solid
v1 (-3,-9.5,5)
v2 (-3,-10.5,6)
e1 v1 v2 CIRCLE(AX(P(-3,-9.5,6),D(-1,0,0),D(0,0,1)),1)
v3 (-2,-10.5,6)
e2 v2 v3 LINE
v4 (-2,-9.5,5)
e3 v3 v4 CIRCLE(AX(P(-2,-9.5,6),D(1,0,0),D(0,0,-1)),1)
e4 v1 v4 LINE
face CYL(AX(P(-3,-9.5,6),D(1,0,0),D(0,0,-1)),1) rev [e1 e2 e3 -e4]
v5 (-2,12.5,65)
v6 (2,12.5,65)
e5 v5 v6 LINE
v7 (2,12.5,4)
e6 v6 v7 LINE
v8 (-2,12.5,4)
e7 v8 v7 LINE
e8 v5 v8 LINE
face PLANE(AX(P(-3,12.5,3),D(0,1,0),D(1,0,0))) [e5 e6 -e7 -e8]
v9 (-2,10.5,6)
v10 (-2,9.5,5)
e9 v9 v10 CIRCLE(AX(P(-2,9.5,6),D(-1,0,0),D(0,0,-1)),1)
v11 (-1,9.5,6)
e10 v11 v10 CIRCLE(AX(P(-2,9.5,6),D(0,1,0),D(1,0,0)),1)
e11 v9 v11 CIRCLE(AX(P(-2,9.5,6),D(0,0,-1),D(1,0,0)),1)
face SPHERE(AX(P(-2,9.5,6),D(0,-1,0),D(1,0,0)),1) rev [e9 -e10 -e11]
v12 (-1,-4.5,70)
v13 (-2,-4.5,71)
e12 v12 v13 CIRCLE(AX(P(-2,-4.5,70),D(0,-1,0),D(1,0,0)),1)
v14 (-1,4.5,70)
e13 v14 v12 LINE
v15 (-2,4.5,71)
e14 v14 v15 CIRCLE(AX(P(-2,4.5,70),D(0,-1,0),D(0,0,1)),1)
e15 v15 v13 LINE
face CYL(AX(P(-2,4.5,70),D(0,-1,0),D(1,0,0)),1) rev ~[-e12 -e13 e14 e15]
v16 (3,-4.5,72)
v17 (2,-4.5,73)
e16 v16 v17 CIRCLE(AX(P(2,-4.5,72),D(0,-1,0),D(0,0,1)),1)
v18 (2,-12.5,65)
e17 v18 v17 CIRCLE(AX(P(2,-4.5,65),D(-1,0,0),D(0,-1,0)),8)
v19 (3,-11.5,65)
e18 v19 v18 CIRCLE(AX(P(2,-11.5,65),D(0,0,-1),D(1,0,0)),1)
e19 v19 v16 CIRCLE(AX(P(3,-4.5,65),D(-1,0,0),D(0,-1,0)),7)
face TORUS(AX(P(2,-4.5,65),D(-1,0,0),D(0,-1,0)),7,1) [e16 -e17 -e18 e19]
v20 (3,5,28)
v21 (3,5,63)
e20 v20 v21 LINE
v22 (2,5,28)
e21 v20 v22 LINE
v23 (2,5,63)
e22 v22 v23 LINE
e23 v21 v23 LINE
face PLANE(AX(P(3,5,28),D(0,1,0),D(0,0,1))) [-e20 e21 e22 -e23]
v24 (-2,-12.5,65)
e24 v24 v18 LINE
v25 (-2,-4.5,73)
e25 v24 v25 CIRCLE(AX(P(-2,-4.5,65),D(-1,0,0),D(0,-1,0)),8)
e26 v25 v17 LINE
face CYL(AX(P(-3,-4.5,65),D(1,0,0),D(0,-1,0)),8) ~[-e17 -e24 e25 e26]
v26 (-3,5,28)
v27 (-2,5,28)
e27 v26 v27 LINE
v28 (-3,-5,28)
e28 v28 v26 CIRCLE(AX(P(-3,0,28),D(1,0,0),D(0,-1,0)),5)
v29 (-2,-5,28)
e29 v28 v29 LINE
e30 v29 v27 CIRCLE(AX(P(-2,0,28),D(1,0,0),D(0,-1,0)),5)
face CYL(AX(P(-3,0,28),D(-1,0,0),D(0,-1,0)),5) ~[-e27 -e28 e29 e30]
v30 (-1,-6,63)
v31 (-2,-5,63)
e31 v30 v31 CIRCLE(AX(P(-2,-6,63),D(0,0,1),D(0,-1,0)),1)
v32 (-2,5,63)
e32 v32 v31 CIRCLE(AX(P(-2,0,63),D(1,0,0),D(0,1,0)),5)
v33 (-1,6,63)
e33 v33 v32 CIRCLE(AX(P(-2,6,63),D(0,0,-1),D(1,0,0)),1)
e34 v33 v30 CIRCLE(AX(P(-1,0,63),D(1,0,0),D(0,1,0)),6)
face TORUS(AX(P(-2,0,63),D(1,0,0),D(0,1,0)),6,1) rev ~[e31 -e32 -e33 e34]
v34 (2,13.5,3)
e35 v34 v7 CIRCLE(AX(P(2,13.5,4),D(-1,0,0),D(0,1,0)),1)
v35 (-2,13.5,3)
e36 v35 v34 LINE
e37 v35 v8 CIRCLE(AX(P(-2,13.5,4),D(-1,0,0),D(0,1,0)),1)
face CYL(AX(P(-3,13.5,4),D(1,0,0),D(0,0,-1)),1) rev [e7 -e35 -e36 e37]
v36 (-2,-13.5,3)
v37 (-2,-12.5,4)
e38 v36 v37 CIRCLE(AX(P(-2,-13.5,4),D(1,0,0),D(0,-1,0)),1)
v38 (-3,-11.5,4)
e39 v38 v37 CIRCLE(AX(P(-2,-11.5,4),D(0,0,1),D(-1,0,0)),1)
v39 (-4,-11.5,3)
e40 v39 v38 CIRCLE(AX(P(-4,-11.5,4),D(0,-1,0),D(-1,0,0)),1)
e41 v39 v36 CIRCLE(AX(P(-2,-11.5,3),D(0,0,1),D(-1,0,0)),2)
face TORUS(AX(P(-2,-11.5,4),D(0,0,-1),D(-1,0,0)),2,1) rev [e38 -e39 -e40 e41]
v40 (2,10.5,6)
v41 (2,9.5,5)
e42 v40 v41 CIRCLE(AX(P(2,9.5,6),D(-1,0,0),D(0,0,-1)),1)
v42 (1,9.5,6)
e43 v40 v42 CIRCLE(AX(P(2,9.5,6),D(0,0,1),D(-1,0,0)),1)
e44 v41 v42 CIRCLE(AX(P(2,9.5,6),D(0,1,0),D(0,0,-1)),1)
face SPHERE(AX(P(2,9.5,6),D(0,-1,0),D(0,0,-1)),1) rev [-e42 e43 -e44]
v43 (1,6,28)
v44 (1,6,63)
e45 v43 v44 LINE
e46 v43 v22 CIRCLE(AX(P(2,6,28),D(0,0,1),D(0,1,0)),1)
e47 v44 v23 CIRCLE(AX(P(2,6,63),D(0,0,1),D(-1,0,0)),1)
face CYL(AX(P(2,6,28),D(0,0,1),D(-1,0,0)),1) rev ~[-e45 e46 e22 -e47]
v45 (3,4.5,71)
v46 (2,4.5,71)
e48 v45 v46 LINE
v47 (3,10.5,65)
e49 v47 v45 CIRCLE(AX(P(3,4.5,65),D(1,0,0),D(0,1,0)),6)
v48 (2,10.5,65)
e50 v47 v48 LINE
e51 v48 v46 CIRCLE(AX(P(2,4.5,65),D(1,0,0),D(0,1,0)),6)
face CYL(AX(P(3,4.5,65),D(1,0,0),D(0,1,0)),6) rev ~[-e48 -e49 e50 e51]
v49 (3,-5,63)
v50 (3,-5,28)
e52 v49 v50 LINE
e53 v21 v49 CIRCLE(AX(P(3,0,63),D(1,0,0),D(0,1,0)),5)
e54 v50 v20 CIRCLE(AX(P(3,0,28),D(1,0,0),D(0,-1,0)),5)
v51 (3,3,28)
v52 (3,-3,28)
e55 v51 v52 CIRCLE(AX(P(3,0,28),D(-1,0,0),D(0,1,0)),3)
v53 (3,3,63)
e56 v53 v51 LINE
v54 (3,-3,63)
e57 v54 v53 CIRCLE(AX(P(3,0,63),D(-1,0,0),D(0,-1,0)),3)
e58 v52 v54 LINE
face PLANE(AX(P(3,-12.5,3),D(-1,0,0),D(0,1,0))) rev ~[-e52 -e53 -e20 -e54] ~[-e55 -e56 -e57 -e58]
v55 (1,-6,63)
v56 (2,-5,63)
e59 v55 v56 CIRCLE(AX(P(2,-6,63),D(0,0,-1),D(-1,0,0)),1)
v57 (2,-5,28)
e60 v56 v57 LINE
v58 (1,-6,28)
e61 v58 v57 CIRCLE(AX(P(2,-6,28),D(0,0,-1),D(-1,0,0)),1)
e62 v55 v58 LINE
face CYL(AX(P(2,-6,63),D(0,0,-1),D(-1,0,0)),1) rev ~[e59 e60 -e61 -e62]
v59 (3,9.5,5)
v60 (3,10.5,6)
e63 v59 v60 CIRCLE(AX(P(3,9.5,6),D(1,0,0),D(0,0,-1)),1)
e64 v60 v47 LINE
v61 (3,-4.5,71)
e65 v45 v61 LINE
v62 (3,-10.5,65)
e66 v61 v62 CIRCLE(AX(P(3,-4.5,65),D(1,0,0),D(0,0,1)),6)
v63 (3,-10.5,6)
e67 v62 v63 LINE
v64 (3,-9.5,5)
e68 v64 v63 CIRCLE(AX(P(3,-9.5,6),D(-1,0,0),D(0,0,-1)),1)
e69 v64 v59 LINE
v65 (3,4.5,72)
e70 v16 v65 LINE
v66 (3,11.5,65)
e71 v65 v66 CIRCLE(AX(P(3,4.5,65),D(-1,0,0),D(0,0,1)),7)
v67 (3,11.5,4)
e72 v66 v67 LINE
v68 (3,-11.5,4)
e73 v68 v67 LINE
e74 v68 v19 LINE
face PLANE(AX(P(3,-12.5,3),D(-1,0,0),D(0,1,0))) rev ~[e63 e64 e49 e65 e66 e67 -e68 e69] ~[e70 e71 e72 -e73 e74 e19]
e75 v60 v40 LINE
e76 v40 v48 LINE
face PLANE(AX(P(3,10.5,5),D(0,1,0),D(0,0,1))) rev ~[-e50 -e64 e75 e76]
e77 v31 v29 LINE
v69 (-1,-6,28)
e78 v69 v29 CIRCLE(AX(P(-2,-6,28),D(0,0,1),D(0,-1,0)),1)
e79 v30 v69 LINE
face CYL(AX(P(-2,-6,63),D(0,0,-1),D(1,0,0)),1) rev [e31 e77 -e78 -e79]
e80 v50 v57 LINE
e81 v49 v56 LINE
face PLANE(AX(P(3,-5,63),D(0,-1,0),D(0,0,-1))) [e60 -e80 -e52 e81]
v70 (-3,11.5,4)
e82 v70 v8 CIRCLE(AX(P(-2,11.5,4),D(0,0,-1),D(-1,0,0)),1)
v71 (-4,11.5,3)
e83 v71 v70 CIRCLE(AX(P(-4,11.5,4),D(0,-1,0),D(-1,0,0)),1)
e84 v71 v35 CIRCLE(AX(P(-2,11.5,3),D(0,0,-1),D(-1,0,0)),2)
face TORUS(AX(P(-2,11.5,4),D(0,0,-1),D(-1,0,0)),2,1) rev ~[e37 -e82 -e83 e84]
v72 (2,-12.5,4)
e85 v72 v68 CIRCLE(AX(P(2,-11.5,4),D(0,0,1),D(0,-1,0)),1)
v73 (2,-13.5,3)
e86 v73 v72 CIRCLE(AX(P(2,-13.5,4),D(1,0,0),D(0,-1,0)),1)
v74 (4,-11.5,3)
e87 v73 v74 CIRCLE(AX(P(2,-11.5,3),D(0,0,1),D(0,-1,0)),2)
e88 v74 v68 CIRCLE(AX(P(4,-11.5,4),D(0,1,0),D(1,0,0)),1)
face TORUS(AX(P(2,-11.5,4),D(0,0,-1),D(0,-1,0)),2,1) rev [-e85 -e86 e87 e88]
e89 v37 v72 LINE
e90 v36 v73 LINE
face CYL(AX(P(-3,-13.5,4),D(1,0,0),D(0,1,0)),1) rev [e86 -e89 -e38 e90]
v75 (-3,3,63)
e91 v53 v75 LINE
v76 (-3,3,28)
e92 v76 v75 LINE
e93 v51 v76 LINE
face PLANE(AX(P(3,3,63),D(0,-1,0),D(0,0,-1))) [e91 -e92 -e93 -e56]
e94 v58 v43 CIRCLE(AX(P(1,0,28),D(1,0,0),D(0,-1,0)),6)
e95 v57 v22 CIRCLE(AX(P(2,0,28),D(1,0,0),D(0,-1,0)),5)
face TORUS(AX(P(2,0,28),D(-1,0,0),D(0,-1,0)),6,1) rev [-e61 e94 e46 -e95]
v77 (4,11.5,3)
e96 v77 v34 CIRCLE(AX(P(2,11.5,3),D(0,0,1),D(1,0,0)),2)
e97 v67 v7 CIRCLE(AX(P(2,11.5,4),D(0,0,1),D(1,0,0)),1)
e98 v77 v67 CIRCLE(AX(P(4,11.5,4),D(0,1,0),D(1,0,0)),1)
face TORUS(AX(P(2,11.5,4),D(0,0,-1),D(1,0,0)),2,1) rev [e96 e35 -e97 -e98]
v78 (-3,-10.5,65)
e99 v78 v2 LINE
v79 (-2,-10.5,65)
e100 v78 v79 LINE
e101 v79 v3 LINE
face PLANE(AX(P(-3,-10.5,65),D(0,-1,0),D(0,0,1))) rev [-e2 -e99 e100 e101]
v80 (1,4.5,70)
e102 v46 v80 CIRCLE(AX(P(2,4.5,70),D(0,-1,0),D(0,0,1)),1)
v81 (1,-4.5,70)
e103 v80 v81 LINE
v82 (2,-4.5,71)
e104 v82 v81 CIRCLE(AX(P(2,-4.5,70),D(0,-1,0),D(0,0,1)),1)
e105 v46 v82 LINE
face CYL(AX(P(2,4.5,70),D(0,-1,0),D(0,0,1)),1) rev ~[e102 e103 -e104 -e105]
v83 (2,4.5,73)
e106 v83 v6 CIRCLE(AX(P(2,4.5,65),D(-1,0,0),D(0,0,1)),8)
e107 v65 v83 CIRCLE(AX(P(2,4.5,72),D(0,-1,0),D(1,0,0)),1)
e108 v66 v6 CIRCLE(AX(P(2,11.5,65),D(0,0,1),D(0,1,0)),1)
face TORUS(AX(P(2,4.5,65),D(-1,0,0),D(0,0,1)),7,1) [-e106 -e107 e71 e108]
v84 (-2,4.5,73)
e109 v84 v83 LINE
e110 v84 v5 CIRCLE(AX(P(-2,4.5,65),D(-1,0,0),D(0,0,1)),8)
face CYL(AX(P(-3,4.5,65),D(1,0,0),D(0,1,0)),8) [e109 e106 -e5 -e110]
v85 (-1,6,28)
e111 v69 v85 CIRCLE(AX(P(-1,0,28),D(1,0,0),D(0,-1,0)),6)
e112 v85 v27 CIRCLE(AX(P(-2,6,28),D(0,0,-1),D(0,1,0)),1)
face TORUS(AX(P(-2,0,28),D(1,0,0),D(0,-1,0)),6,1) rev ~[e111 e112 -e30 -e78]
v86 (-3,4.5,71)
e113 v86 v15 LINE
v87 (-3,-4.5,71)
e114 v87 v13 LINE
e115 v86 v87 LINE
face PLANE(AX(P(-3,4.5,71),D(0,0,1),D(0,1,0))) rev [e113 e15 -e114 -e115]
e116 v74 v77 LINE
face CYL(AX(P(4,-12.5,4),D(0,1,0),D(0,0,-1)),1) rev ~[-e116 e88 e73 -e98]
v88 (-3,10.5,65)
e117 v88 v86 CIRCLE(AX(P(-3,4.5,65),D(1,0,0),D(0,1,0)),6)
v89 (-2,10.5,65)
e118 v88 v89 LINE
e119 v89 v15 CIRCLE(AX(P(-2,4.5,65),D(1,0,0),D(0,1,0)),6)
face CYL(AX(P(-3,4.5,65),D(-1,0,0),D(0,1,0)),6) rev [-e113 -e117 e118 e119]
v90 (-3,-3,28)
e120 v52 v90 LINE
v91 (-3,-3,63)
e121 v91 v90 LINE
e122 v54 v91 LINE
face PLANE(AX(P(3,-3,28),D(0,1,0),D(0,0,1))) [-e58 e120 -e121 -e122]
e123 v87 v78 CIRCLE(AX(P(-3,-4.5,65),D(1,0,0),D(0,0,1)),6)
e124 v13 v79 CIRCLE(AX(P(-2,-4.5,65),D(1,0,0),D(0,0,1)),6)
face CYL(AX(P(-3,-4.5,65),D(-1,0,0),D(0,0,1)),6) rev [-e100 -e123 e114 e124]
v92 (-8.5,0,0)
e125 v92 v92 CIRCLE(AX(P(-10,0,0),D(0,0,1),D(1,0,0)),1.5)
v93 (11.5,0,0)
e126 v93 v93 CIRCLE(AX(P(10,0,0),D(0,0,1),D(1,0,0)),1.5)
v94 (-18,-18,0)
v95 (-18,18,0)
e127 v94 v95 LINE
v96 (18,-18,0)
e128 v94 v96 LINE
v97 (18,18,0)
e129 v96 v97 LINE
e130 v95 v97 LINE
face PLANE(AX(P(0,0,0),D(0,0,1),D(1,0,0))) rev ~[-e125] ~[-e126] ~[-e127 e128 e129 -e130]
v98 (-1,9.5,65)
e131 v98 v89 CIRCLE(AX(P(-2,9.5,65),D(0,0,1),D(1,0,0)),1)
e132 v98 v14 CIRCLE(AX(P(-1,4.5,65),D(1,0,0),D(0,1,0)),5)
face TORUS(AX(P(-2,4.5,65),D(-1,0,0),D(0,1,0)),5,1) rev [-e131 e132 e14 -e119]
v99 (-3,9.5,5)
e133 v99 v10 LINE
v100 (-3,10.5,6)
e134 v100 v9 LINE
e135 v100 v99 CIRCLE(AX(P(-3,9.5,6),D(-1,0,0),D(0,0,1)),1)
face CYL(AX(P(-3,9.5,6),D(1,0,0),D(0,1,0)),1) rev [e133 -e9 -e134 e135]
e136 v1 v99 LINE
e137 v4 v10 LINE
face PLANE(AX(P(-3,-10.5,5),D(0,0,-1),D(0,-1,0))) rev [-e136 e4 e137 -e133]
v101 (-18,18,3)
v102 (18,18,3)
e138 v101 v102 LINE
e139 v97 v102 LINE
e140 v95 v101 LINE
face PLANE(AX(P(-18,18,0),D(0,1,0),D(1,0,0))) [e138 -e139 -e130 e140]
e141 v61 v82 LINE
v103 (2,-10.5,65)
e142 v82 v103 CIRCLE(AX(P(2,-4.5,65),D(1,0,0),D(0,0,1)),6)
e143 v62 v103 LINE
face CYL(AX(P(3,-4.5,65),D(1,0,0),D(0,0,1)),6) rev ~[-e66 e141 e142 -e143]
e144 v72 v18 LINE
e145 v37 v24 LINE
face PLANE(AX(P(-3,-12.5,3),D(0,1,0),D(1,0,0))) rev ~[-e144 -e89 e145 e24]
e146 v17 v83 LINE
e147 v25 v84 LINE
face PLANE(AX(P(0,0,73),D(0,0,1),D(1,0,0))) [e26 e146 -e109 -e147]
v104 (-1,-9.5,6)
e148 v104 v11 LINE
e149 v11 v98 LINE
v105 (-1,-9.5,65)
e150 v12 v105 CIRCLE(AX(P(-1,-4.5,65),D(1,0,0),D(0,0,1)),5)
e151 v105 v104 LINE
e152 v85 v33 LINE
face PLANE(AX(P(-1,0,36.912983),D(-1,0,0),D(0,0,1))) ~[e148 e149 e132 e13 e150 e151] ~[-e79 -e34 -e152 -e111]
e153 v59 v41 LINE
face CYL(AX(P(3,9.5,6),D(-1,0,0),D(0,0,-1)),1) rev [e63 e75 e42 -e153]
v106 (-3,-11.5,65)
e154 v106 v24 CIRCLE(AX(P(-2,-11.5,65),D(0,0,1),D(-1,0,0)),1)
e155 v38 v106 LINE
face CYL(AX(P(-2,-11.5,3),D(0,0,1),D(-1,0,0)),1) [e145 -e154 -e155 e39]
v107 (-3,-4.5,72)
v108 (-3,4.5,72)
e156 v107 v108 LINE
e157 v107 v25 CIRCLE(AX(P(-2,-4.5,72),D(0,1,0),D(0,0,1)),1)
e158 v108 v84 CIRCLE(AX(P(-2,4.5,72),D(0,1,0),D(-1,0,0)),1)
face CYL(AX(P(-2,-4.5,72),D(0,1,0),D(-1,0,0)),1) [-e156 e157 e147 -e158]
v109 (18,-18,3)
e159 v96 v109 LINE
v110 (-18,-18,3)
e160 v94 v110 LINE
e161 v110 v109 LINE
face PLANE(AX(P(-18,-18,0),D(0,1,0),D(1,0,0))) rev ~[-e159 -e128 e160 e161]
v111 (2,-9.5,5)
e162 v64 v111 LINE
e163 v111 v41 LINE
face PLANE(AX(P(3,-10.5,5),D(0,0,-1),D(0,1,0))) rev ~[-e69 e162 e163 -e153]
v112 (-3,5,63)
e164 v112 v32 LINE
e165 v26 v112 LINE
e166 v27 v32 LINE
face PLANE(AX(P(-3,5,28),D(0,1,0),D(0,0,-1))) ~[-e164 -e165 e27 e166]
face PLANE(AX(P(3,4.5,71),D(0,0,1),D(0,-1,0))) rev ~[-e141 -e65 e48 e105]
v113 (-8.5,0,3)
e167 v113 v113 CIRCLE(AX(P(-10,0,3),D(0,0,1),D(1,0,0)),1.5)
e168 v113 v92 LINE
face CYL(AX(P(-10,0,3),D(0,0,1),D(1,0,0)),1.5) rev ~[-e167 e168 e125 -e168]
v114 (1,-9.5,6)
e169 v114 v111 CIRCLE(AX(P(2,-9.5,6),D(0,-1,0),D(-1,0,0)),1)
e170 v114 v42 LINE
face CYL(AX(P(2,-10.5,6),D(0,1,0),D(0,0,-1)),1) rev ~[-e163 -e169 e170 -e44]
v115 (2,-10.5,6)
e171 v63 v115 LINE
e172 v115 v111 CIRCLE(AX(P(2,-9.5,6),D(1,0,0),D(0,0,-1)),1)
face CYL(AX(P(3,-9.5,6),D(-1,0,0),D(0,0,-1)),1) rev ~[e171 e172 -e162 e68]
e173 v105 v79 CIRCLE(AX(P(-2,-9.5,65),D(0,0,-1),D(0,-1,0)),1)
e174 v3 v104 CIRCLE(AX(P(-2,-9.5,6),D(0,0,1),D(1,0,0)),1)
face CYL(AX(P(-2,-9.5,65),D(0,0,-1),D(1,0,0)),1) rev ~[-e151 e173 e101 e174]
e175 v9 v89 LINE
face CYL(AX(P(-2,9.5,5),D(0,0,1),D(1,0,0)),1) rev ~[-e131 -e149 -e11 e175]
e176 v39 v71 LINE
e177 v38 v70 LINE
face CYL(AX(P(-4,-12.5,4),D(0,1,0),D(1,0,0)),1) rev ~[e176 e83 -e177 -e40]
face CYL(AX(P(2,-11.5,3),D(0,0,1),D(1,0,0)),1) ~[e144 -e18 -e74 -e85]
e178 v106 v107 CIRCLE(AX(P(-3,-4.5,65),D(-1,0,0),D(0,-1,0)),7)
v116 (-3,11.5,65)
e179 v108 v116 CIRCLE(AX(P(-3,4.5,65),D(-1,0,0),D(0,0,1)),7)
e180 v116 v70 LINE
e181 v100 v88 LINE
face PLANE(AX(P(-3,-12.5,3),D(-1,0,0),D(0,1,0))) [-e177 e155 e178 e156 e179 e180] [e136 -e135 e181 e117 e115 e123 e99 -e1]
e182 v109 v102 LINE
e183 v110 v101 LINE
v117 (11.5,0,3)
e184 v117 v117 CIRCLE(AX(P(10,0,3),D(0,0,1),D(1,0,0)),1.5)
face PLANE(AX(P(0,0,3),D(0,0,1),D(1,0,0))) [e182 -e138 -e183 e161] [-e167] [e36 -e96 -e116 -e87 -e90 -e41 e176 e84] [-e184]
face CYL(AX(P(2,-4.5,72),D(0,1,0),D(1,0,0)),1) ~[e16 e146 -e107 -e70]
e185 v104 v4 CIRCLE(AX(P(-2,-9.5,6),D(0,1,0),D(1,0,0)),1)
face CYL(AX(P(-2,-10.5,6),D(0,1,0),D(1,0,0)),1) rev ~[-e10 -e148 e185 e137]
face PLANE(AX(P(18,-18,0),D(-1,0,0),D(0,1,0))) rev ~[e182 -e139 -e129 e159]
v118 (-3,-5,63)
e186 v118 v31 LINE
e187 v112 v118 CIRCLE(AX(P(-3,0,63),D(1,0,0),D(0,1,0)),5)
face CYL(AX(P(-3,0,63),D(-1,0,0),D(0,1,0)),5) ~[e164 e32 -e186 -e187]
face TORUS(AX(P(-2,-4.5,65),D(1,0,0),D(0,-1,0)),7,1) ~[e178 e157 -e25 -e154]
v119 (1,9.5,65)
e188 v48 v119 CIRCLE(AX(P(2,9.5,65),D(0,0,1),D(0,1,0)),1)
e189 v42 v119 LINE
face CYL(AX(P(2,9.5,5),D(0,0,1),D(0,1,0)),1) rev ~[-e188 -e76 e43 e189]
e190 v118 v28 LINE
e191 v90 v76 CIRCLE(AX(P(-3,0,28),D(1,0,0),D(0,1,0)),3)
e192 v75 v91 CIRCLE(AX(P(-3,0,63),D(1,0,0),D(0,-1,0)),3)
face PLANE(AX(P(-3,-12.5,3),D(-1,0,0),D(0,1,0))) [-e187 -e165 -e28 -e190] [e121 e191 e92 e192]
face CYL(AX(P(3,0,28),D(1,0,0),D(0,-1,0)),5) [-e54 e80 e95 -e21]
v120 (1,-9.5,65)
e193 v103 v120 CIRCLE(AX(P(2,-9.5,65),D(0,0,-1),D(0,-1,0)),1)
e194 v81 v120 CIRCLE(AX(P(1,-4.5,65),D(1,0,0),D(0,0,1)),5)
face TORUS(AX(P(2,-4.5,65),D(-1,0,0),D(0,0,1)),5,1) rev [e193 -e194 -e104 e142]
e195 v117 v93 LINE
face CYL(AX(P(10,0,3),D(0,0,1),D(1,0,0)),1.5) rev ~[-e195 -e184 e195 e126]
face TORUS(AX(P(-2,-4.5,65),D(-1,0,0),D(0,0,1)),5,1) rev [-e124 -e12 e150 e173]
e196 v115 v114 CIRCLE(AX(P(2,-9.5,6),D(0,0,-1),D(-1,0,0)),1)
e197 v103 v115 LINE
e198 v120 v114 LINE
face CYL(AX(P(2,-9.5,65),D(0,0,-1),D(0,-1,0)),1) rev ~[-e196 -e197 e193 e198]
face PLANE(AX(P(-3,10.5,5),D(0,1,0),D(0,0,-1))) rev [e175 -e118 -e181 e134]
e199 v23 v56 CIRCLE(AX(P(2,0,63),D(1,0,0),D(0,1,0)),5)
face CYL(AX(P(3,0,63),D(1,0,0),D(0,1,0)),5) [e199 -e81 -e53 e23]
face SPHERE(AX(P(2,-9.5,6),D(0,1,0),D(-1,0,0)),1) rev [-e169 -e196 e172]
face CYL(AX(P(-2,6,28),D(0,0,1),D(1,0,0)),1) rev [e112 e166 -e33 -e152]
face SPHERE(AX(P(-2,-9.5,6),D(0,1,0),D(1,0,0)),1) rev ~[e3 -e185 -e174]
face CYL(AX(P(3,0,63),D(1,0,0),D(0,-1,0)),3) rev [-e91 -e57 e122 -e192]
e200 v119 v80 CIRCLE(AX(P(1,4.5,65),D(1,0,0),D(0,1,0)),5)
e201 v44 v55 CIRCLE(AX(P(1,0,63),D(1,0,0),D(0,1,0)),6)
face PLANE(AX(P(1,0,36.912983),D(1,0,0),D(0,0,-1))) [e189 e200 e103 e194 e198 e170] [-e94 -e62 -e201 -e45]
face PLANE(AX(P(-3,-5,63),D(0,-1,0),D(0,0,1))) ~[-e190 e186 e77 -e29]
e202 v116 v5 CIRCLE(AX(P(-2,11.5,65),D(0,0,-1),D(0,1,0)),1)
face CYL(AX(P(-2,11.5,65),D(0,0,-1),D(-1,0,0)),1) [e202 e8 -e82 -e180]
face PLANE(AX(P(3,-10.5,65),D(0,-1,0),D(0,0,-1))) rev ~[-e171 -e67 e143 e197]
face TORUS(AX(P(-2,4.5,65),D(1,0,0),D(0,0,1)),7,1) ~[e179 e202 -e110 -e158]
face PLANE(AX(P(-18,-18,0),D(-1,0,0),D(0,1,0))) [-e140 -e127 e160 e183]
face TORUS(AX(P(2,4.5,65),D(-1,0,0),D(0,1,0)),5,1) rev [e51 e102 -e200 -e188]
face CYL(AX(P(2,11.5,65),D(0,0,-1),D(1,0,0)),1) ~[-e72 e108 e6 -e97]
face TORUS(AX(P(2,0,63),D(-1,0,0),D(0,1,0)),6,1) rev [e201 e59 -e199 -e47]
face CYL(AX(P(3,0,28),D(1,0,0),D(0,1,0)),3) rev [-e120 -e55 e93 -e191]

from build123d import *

# Parameters (mm, degrees)
SKETCH1_W           = 36
SKETCH1_H           = 36
BOSS_EXTRUDE1_DEPTH = 3
SKETCH2_R           = 1.5
CUT_EXTRUDE1_DEPTH  = 3
SKETCH3_W           = 6
SKETCH3_H           = 25
BOSS_EXTRUDE2_DEPTH = 70
CUT_EXTRUDE2_DEPTH  = 70
FILLET1_R           = 8
CUT_EXTRUDE3_DEPTH  = 2
FILLET2_R           = 1
FILLET4_R           = 1
FILLET5_R           = 1
FILLET6_R           = 1
FILLET7_R           = 1


with BuildPart() as part:
    # Sketch1 → Boss-Extrude1 (new body)
    with BuildSketch(Plane.XY):
        Rectangle(SKETCH1_W, SKETCH1_H)
    extrude(amount=BOSS_EXTRUDE1_DEPTH)

    # Sketch2 → Cut-Extrude1 (cut)
    with BuildSketch(Plane.XY.offset(3)):
        with Locations((-10, 0)):
            Circle(SKETCH2_R)
        with Locations((10, 0)):
            Circle(SKETCH2_R)
    extrude(amount=-CUT_EXTRUDE1_DEPTH, mode=Mode.SUBTRACT)

    # Sketch3 → Boss-Extrude2 (add)
    with BuildSketch(Plane.XY.offset(3)):
        Rectangle(SKETCH3_W, SKETCH3_H)
    extrude(amount=BOSS_EXTRUDE2_DEPTH)

    # Sketch4 → Cut-Extrude2 (cut)
    with BuildSketch(Plane(origin=(3, 0, 0), x_dir=(0, 0, -1), z_dir=(1, 0, 0))):
        with BuildLine():
            Line((-63, 3), (-28, 3))
            ThreePointArc((-28, 3), (-25, 0), (-28, -3))
            Line((-28, -3), (-63, -3))
            ThreePointArc((-63, -3), (-66, 0), (-63, 3))
        make_face()
    extrude(amount=-CUT_EXTRUDE2_DEPTH, mode=Mode.SUBTRACT)

    # Fillet1
    fillet1_edges = [part.edges().sort_by_distance(p)[0] for p in [
        (0, -12.5, 73),
        (0, 12.5, 73),
    ]]
    fillet(fillet1_edges, radius=FILLET1_R)

    # Sketch5 → Cut-Extrude3 (cut)
    with BuildSketch(Plane(origin=(3, 0, 0), x_dir=(0, 0, -1), z_dir=(1, 0, 0))):
        with BuildLine():
            Line((-5, 10.5), (-65, 10.5))
            ThreePointArc((-65, 10.5), (-69.242640687, 8.742640687), (-71, 4.5))
            Line((-71, 4.5), (-71, -4.5))
            ThreePointArc((-71, -4.5), (-69.242640687, -8.742640687), (-65, -10.5))
            Line((-65, -10.5), (-5, -10.5))
            Line((-5, -10.5), (-5, 10.5))
        make_face()
        with BuildLine():
            Line((-28, 5), (-63, 5))
            ThreePointArc((-63, 5), (-68, 0), (-63, -5))
            Line((-63, -5), (-28, -5))
            ThreePointArc((-28, -5), (-23, 0), (-28, 5))
        make_face(mode=Mode.SUBTRACT)
    cut_extrude3 = extrude(amount=-CUT_EXTRUDE3_DEPTH, mode=Mode.SUBTRACT)

    # Mirror1: Cut-Extrude3 across plane
    add(cut_extrude3.mirror(Plane(origin=(0, 0, 0), x_dir=(0, 0, 1), z_dir=(1, 0, 0))), mode=Mode.SUBTRACT)

    # Fillet2
    fillet2_edges = [part.edges().sort_by_distance(p)[0] for p in [
        (-3, 0, 3),
        (0, -12.5, 3),
        (3, 0, 3),
        (0, 12.5, 3),
        (-3, 0, 73),
        (3, 0, 73),
        (-3, -12.5, 34),
        (-3, 12.5, 34),
        (-3, -10.156854249, 70.656854249),
        (-3, 10.156854249, 70.656854249),
        (3, 12.5, 34),
        (3, -12.5, 34),
        (3, -10.156854249, 70.656854249),
        (3, 10.156854249, 70.656854249),
    ]]
    fillet(fillet2_edges, radius=FILLET2_R)

    # Fillet4
    fillet4_edges = [part.edges().sort_by_distance(p)[0] for p in [
        (1, 0, 5),
        (2, 10.5, 5),
        (1, -10.5, 35),
        (2, -10.5, 5),
        (1, -8.742640687, 69.242640687),
        (1, 0, 71),
        (1, 8.742640687, 69.242640687),
        (1, 10.5, 35),
    ]]
    fillet(fillet4_edges, radius=FILLET4_R)

    # Fillet5
    fillet5_edges = [part.edges().sort_by_distance(p)[0] for p in [
        (1, -5, 45.5),
        (1, 0, 23),
        (1, 5, 45.5),
        (1, 0, 68),
    ]]
    fillet(fillet5_edges, radius=FILLET5_R)

    # Fillet6
    fillet6_edges = [part.edges().sort_by_distance(p)[0] for p in [
        (-1, 0, 5),
        (-1, 10.5, 35),
        (-1, 8.742640687, 69.242640687),
        (-1, 0, 71),
        (-1, -8.742640687, 69.242640687),
        (-1, -10.5, 35),
        (-2, -10.5, 5),
        (-2, 10.5, 5),
    ]]
    fillet(fillet6_edges, radius=FILLET6_R)

    # Fillet7
    fillet7_edges = [part.edges().sort_by_distance(p)[0] for p in [
        (-1, 0, 23),
        (-1, 5, 45.5),
        (-1, 0, 68),
        (-1, -5, 45.5),
    ]]
    fillet(fillet7_edges, radius=FILLET7_R)


solid = part.part
